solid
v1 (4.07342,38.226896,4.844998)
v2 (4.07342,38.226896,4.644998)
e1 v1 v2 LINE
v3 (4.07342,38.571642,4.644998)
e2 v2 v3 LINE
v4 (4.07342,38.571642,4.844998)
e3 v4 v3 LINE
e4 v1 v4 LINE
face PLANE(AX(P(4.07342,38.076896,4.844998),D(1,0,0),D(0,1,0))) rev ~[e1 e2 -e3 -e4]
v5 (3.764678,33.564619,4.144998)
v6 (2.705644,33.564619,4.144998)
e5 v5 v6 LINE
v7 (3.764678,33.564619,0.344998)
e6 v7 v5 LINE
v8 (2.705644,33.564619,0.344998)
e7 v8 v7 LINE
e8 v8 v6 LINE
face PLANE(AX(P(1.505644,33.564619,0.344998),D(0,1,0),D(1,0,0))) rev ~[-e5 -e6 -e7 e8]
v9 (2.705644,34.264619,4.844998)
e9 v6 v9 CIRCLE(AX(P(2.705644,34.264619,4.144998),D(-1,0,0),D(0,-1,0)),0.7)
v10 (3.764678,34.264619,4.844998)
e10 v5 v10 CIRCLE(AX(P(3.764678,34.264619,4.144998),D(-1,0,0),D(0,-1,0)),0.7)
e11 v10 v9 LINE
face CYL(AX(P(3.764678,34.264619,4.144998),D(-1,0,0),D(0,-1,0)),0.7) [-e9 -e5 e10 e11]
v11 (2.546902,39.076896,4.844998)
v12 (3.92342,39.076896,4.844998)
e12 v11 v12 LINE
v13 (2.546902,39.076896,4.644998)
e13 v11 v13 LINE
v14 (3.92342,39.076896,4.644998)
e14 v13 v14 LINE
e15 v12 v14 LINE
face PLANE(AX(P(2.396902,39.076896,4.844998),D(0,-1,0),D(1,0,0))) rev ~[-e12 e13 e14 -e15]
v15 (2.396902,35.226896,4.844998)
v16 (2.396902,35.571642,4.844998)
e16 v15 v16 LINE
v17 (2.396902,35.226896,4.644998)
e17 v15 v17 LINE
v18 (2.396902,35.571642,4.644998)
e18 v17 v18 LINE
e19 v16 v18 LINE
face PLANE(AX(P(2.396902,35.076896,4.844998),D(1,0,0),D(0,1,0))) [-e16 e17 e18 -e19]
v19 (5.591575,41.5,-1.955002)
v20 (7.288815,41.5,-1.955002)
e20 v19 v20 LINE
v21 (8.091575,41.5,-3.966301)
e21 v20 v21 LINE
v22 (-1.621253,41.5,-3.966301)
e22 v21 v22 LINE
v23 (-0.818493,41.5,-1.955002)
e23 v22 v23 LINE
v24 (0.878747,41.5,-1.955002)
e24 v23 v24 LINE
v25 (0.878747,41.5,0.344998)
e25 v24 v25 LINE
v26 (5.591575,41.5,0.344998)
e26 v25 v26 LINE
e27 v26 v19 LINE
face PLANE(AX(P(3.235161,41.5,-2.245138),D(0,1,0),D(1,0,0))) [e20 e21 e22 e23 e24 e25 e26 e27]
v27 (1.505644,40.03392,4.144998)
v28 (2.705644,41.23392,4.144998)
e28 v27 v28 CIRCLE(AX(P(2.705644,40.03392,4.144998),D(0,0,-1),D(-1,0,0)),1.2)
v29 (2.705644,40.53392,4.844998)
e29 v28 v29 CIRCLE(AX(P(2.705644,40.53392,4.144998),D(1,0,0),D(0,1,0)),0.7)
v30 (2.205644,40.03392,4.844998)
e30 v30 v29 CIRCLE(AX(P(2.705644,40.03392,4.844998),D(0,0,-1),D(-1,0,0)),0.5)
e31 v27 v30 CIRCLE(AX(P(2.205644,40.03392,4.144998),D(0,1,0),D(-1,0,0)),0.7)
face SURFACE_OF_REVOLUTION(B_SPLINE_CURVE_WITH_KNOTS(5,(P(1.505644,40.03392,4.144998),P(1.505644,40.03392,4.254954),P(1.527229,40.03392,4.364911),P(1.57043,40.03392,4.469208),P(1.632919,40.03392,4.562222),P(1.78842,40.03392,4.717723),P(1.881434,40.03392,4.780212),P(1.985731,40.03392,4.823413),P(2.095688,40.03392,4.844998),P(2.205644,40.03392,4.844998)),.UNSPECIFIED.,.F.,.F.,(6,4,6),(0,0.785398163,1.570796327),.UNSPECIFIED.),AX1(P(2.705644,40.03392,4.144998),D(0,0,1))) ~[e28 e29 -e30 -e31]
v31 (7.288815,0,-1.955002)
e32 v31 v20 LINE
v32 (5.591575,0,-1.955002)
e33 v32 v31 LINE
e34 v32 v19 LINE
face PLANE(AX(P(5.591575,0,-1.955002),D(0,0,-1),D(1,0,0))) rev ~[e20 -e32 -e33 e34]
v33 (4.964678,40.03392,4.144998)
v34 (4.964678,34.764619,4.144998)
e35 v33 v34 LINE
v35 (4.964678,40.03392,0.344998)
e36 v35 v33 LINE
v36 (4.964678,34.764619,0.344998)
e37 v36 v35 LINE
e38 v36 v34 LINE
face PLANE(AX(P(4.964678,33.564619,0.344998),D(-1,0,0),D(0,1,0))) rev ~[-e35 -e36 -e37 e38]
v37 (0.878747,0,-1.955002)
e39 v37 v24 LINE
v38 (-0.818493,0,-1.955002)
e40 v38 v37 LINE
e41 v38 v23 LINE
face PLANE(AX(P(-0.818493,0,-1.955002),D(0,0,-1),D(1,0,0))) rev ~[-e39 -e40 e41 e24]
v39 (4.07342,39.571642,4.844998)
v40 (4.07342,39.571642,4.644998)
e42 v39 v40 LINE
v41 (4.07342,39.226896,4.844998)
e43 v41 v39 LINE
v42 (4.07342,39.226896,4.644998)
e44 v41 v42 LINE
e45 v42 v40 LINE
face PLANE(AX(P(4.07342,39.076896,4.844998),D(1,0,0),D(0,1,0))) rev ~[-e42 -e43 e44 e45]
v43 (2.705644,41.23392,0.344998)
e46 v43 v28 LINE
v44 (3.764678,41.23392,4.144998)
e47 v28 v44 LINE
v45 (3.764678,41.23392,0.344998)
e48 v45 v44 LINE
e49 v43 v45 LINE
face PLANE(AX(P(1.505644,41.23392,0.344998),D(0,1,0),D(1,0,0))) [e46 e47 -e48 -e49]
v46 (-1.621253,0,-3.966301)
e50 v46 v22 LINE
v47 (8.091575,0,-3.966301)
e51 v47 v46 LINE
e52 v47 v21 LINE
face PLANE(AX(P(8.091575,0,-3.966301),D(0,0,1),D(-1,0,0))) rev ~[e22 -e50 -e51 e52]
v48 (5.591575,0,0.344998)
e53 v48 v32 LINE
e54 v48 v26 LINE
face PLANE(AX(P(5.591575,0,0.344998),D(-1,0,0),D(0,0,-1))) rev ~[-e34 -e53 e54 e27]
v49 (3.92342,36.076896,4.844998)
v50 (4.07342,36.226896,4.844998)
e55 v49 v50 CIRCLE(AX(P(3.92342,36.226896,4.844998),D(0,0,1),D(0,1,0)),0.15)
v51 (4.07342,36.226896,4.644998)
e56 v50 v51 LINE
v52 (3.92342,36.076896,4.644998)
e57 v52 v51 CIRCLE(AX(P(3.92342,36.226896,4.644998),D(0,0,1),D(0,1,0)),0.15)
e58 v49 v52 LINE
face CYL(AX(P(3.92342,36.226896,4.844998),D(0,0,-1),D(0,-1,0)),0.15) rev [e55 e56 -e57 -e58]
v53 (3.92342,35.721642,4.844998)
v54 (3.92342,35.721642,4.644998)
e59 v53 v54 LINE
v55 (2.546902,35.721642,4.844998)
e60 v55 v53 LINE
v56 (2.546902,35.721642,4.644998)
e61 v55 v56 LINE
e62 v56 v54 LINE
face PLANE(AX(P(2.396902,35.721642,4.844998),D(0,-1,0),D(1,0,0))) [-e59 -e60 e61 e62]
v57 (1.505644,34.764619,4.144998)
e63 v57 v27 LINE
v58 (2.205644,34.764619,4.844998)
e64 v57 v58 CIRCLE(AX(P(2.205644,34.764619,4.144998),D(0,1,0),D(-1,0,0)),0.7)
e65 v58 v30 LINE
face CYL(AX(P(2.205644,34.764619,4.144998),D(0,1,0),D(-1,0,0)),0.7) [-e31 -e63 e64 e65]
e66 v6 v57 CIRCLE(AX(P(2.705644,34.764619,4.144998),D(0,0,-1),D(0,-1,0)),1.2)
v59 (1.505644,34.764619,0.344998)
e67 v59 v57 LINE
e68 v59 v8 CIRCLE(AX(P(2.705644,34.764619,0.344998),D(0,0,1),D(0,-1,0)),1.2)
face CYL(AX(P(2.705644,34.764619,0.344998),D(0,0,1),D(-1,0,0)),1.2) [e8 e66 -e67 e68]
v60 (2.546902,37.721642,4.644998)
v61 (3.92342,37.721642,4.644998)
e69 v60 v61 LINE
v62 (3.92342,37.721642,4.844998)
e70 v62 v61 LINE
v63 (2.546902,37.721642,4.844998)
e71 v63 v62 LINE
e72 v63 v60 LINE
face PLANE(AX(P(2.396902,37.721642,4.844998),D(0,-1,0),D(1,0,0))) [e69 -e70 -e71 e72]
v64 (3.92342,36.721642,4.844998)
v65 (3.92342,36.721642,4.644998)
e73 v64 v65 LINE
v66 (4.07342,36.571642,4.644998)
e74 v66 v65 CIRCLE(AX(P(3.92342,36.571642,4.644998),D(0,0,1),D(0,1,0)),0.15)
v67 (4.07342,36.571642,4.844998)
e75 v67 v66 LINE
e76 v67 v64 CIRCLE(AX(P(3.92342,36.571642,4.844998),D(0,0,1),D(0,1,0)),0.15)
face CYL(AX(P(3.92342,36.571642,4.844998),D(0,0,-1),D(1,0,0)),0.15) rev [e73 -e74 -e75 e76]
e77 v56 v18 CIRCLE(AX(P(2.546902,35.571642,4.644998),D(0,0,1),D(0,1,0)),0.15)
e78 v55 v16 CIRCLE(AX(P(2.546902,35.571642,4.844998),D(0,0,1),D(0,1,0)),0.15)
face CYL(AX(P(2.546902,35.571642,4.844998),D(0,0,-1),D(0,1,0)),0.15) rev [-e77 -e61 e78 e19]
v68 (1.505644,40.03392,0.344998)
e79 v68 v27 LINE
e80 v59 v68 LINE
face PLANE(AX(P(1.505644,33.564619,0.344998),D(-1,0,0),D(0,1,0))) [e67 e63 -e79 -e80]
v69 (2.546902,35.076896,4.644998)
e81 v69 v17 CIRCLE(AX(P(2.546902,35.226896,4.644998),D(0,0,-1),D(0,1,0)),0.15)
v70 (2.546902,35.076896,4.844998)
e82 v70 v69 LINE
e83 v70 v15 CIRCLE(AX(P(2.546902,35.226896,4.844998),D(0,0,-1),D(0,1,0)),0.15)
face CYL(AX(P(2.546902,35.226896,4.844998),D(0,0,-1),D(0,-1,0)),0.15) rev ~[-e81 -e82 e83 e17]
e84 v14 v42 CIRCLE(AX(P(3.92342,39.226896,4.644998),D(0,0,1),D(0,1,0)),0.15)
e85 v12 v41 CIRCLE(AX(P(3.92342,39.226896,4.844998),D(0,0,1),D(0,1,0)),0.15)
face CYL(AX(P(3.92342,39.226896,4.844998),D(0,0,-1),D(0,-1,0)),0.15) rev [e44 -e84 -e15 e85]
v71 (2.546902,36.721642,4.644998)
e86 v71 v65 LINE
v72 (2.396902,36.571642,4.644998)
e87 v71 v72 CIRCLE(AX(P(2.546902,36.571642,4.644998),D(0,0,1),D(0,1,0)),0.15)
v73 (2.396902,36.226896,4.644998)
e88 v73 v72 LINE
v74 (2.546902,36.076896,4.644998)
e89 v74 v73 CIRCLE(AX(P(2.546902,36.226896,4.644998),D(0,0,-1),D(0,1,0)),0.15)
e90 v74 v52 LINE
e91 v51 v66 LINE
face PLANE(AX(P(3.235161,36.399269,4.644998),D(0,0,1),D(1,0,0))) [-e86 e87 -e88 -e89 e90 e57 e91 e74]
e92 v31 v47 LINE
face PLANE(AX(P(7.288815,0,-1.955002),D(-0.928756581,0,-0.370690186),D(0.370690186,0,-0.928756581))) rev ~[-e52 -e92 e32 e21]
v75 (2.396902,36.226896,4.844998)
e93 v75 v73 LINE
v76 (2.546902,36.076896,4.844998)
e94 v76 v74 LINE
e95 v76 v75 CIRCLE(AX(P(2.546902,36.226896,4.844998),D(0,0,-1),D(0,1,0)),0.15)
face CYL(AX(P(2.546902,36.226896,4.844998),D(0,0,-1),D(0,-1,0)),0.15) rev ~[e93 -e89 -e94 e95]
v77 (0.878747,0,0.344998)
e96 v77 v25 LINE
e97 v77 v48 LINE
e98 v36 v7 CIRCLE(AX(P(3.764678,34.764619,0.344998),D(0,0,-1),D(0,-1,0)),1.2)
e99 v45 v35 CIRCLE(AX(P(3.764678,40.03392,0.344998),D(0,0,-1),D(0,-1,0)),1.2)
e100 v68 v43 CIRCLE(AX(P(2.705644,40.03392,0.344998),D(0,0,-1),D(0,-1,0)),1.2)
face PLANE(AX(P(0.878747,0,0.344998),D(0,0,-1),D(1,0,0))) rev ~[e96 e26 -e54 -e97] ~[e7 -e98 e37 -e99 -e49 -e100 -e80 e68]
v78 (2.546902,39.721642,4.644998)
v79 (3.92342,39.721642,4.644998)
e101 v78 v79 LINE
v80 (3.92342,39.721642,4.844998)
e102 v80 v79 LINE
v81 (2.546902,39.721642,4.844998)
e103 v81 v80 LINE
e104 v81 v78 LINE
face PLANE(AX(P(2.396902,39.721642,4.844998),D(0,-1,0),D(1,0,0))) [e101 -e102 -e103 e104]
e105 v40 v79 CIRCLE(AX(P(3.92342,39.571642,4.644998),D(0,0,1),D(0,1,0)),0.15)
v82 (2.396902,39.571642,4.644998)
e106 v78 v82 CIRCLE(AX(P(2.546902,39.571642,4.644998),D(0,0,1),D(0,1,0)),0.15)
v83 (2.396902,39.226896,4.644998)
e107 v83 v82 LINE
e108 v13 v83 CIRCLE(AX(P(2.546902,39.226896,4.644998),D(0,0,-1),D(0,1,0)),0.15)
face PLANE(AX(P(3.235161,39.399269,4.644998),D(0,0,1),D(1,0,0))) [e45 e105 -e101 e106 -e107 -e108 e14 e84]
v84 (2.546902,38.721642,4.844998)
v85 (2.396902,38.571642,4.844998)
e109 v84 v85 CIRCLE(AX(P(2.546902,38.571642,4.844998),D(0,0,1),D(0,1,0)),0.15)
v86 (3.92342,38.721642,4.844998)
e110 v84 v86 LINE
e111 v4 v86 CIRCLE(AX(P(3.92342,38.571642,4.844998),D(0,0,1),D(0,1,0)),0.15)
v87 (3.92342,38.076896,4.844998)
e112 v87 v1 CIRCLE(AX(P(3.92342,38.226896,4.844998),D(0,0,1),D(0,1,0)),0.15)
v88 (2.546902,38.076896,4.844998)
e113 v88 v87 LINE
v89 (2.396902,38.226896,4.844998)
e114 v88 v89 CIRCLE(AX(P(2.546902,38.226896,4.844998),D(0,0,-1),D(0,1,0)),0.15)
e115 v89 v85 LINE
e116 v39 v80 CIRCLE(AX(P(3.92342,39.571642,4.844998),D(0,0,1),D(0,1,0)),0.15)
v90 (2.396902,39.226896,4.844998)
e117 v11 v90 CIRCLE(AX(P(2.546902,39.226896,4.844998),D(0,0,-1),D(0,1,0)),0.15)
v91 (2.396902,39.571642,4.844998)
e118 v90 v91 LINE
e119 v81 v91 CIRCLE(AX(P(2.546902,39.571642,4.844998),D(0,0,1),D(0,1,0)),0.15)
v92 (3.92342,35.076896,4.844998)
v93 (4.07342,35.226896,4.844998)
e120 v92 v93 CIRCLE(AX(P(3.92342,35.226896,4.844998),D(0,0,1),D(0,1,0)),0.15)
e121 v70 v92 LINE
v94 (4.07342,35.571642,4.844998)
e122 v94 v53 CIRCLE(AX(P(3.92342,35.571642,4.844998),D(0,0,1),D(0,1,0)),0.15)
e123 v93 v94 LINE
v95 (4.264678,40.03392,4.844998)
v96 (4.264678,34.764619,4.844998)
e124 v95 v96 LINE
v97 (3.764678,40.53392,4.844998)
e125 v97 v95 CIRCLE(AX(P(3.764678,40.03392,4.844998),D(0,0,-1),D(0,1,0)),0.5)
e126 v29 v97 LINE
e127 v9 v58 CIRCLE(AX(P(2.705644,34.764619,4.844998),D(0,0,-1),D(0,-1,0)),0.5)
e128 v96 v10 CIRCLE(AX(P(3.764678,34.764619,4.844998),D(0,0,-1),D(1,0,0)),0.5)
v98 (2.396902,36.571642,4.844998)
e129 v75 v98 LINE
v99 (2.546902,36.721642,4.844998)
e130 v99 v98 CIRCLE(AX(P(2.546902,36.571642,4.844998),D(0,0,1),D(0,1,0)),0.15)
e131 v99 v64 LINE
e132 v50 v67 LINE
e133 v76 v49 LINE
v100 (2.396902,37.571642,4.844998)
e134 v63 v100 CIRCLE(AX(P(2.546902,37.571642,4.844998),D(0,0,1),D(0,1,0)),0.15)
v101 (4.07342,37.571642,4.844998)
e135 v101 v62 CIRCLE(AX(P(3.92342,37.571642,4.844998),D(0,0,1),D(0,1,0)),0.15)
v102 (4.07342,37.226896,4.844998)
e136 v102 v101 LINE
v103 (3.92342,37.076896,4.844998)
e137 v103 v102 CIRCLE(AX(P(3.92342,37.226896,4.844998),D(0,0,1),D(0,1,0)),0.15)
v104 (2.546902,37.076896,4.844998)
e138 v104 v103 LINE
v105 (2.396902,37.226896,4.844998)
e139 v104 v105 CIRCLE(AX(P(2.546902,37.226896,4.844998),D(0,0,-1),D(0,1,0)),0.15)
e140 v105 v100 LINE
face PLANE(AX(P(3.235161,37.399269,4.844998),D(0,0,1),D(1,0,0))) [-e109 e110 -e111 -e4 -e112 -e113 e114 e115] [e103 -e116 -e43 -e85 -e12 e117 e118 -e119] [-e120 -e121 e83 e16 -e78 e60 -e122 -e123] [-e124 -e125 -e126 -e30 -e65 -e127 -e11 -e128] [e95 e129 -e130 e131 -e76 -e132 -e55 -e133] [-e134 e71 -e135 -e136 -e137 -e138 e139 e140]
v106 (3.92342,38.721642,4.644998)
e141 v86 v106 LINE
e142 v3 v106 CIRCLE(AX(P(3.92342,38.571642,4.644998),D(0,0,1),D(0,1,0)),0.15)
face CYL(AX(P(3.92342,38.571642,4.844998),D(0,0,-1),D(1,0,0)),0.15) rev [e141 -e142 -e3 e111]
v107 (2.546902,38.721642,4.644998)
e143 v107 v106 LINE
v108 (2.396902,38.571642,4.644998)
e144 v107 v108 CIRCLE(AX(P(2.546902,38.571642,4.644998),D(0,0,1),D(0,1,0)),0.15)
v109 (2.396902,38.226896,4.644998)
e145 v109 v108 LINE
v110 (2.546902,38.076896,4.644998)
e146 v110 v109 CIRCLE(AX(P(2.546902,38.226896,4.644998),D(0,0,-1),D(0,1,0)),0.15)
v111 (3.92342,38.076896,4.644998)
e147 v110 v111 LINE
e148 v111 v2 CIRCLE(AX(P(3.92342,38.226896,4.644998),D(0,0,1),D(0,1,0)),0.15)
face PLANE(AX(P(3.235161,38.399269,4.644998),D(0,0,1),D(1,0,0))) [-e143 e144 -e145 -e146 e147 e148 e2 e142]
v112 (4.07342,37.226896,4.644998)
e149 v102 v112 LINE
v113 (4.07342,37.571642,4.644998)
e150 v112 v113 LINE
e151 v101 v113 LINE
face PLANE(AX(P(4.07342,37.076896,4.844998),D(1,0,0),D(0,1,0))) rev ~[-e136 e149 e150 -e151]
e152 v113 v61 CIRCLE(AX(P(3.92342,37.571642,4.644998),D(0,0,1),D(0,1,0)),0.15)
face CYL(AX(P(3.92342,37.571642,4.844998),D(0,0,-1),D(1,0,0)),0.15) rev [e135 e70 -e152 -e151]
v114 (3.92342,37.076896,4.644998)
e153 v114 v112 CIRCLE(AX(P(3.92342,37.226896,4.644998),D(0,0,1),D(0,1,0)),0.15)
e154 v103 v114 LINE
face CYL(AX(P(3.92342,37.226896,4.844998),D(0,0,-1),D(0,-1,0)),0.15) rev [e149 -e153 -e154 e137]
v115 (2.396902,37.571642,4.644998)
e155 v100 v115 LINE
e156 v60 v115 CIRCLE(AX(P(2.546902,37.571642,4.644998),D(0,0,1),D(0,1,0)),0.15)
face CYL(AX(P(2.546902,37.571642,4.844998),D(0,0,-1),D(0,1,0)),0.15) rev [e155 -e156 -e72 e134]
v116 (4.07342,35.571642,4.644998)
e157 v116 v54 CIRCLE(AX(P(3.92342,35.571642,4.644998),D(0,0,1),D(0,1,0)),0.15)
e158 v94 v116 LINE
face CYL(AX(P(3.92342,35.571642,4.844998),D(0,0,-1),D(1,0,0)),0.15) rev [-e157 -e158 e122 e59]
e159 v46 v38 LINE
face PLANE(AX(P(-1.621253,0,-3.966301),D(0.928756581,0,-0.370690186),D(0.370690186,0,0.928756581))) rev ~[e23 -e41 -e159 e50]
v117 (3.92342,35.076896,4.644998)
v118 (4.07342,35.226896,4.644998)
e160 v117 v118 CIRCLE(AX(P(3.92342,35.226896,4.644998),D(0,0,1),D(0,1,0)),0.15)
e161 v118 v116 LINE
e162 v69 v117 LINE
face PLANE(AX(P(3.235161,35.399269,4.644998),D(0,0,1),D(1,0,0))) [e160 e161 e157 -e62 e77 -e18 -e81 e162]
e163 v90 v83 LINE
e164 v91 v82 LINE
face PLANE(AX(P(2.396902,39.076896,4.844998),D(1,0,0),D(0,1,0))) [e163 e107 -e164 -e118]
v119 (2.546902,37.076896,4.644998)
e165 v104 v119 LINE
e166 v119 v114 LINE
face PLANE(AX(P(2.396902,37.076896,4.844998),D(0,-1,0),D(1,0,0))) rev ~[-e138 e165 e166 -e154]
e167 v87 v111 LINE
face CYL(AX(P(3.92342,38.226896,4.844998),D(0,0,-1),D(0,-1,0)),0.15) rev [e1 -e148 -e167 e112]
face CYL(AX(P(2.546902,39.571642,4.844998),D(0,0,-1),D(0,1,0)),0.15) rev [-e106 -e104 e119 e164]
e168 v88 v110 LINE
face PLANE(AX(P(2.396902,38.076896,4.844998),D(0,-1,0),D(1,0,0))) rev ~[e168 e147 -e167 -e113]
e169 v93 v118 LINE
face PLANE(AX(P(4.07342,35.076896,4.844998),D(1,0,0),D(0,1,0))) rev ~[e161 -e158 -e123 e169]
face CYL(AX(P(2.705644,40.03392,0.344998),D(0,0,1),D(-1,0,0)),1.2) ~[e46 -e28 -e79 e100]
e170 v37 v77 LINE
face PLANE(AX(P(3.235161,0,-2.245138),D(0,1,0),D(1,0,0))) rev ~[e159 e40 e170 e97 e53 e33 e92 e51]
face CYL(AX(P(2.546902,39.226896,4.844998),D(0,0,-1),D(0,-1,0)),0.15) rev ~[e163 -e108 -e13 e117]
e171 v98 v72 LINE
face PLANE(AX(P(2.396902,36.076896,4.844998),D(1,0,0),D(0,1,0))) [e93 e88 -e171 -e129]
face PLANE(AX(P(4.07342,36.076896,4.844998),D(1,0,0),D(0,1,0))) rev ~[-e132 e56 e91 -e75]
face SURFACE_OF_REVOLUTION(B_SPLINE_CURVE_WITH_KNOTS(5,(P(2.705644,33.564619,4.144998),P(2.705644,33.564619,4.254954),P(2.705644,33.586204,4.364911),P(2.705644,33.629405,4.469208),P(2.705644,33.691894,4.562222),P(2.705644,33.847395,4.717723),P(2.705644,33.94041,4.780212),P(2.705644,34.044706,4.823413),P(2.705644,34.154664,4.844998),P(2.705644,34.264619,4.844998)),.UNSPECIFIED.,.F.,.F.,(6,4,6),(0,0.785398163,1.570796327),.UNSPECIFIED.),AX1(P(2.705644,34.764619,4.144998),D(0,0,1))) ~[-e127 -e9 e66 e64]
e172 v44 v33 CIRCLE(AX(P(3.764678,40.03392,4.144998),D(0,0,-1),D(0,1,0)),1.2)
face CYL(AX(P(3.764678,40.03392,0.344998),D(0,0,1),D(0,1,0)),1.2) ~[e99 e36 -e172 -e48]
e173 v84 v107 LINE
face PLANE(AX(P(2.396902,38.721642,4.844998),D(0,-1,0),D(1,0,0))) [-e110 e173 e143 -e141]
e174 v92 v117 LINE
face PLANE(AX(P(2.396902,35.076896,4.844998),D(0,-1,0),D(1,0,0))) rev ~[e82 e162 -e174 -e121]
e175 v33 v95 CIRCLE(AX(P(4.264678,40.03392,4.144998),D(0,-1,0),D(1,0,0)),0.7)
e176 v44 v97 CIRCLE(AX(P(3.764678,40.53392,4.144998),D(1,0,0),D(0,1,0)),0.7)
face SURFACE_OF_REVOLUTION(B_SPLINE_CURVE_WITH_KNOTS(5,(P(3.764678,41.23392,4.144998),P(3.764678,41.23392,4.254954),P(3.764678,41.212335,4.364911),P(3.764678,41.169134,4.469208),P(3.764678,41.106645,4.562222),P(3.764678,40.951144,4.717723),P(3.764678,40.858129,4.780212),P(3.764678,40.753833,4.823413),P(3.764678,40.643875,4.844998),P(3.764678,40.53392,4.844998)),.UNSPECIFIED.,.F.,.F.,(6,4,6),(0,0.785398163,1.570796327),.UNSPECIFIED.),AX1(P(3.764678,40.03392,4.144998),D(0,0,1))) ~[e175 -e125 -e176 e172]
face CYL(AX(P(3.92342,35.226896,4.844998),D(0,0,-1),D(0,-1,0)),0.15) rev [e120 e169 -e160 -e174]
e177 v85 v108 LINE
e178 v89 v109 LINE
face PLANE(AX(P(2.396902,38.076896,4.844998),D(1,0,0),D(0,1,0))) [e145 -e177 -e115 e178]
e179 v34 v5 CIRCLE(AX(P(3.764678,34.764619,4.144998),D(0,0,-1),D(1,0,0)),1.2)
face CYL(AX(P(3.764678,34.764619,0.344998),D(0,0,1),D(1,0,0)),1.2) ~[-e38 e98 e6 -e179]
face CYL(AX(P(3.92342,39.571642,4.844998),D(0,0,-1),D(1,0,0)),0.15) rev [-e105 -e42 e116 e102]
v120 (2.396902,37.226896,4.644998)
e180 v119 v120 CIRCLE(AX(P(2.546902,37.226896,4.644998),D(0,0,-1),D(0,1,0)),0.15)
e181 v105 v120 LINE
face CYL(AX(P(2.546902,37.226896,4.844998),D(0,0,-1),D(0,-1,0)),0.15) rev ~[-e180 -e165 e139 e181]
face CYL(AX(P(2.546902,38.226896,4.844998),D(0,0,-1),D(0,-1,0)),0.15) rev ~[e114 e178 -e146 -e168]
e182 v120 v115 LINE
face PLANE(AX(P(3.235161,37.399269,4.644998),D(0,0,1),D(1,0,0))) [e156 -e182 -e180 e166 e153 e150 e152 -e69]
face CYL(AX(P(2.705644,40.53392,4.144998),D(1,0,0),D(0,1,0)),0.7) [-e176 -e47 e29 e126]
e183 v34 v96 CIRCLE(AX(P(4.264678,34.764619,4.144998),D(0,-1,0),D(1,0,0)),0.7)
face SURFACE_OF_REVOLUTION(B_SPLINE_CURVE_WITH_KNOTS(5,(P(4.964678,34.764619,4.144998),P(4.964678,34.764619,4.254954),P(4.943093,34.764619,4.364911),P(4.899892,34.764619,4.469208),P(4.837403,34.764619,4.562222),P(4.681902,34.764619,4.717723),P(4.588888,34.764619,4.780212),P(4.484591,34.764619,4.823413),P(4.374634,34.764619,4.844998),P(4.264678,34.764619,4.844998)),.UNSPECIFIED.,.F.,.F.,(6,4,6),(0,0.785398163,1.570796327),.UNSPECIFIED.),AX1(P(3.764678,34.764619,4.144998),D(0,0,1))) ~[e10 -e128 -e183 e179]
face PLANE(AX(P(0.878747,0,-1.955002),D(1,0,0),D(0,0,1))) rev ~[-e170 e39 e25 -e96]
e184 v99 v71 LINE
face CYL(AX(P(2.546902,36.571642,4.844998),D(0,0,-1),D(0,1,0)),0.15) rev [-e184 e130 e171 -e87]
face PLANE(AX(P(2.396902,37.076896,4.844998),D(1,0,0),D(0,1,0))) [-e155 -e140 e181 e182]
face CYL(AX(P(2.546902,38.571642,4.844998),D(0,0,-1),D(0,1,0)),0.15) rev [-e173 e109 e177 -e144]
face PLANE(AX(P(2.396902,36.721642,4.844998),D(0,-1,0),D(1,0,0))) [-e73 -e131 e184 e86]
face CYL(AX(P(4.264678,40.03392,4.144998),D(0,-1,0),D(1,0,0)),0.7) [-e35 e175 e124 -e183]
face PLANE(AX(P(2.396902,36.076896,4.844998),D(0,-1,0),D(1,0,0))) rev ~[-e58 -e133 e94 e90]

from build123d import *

# Parameters (mm, degrees)
BOSS_EXTRUDE1_DEPTH        = 41.5
SKETCH2_W                  = 3.459033884
SKETCH2_H                  = 7.669300129
BOSS_EXTRUDE2_DEPTH        = 4.5
FILLET1_R                  = 1.2
FILLET2_R                  = 0.7
SKETCH3_W                  = 1.676518228
SKETCH3_H                  = 0.644745983
CUT_EXTRUDE1_DEPTH         = 0.2
FILLET3_R                  = 0.15
LPATTERN1_COUNT            = 3
LPATTERN1_PITCH            = 1
FILLET3_OF_LPATTERN1_R     = 0.15
LPATTERN1_COL_COUNT        = 3
LPATTERN1_COL_PITCH        = 1
FILLET3_OF_LPATTERN1_COL_R = 0.15


with BuildPart() as part:
    # Sketch1 → Boss-Extrude1 (new body)
    with BuildSketch(Plane(origin=(0, 0, 0), x_dir=(1, 0, 0), z_dir=(0, 1, 0))):
        Polygon((0.878746859, -0.34499804), (5.591575223, -0.34499804), (5.591575223, 1.95500196), (7.288815202, 1.95500196), (8.091575223, 3.966300559), (-1.621253141, 3.966300559), (-0.81849312, 1.95500196), (0.878746859, 1.95500196), align=None)
    extrude(amount=BOSS_EXTRUDE1_DEPTH)

    # Sketch2 → Boss-Extrude2 (add)
    with BuildSketch(Plane.XY.offset(0.34499804)):
        with Locations((3.235161041, 37.399269449)):
            Rectangle(SKETCH2_W, SKETCH2_H)
    extrude(amount=BOSS_EXTRUDE2_DEPTH)

    # Fillet1
    fillet1_edges = [part.edges().sort_by_distance(p)[0] for p in [
        (1.505644099, 41.233919514, 2.59499804),
        (1.505644099, 33.564619385, 2.59499804),
        (4.964677983, 33.564619385, 2.59499804),
        (4.964677983, 41.233919514, 2.59499804),
    ]]
    fillet(fillet1_edges, radius=FILLET1_R)

    # Fillet2
    fillet2_edges = [part.edges().sort_by_distance(p)[0] for p in [
        (3.235161041, 41.233919514, 4.84499804),
        (4.964677983, 37.399269449, 4.84499804),
        (1.505644099, 37.399269449, 4.84499804),
        (3.235161041, 33.564619385, 4.84499804),
        (4.613206121, 33.916091248, 4.84499804),
        (1.857115961, 33.916091248, 4.84499804),
        (1.857115961, 40.882447651, 4.84499804),
        (4.613206121, 40.882447651, 4.84499804),
    ]]
    fillet(fillet2_edges, radius=FILLET2_R)

    # Sketch3 → Cut-Extrude1 (cut)
    with BuildSketch(Plane.XY.offset(4.84499804)):
        with Locations((3.235161041, 37.399269449)):
            Rectangle(SKETCH3_W, SKETCH3_H)
    cut_extrude1 = extrude(amount=-CUT_EXTRUDE1_DEPTH, mode=Mode.SUBTRACT)

    # Fillet3
    fillet3_edges = [part.edges().sort_by_distance(p)[0] for p in [
        (2.396901927, 37.076896458, 4.74499804),
        (2.396901927, 37.721642441, 4.74499804),
        (4.073420155, 37.721642441, 4.74499804),
        (4.073420155, 37.076896458, 4.74499804),
    ]]
    fillet(fillet3_edges, radius=FILLET3_R)

    # LPattern1: Cut-Extrude1 ×3
    with Locations(*[(0, i * LPATTERN1_PITCH, 0) for i in range(1, LPATTERN1_COUNT)]):
        add(cut_extrude1, mode=Mode.SUBTRACT)

    # Fillet3 of LPattern1
    fillet3_of_lpattern1_edges = [part.edges().sort_by_distance(p)[0] for p in [
        (2.396901927, 38.076896458, 4.74499804),
        (2.396901927, 38.721642441, 4.74499804),
        (4.073420155, 38.721642441, 4.74499804),
        (4.073420155, 38.076896458, 4.74499804),
        (2.396901927, 39.076896458, 4.74499804),
        (2.396901927, 39.721642441, 4.74499804),
        (4.073420155, 39.721642441, 4.74499804),
        (4.073420155, 39.076896458, 4.74499804),
    ]]
    fillet(fillet3_of_lpattern1_edges, radius=FILLET3_OF_LPATTERN1_R)

    # LPattern1 col: Cut-Extrude1 ×3
    with Locations(*[(0, -i * LPATTERN1_COL_PITCH, 0) for i in range(1, LPATTERN1_COL_COUNT)]):
        add(cut_extrude1, mode=Mode.SUBTRACT)

    # Fillet3 of LPattern1 col
    fillet3_of_lpattern1_col_edges = [part.edges().sort_by_distance(p)[0] for p in [
        (2.396901927, 36.076896458, 4.74499804),
        (2.396901927, 36.721642441, 4.74499804),
        (4.073420155, 36.721642441, 4.74499804),
        (4.073420155, 36.076896458, 4.74499804),
        (2.396901927, 35.076896458, 4.74499804),
        (2.396901927, 35.721642441, 4.74499804),
        (4.073420155, 35.721642441, 4.74499804),
        (4.073420155, 35.076896458, 4.74499804),
    ]]
    fillet(fillet3_of_lpattern1_col_edges, radius=FILLET3_OF_LPATTERN1_COL_R)


solid = part.part
